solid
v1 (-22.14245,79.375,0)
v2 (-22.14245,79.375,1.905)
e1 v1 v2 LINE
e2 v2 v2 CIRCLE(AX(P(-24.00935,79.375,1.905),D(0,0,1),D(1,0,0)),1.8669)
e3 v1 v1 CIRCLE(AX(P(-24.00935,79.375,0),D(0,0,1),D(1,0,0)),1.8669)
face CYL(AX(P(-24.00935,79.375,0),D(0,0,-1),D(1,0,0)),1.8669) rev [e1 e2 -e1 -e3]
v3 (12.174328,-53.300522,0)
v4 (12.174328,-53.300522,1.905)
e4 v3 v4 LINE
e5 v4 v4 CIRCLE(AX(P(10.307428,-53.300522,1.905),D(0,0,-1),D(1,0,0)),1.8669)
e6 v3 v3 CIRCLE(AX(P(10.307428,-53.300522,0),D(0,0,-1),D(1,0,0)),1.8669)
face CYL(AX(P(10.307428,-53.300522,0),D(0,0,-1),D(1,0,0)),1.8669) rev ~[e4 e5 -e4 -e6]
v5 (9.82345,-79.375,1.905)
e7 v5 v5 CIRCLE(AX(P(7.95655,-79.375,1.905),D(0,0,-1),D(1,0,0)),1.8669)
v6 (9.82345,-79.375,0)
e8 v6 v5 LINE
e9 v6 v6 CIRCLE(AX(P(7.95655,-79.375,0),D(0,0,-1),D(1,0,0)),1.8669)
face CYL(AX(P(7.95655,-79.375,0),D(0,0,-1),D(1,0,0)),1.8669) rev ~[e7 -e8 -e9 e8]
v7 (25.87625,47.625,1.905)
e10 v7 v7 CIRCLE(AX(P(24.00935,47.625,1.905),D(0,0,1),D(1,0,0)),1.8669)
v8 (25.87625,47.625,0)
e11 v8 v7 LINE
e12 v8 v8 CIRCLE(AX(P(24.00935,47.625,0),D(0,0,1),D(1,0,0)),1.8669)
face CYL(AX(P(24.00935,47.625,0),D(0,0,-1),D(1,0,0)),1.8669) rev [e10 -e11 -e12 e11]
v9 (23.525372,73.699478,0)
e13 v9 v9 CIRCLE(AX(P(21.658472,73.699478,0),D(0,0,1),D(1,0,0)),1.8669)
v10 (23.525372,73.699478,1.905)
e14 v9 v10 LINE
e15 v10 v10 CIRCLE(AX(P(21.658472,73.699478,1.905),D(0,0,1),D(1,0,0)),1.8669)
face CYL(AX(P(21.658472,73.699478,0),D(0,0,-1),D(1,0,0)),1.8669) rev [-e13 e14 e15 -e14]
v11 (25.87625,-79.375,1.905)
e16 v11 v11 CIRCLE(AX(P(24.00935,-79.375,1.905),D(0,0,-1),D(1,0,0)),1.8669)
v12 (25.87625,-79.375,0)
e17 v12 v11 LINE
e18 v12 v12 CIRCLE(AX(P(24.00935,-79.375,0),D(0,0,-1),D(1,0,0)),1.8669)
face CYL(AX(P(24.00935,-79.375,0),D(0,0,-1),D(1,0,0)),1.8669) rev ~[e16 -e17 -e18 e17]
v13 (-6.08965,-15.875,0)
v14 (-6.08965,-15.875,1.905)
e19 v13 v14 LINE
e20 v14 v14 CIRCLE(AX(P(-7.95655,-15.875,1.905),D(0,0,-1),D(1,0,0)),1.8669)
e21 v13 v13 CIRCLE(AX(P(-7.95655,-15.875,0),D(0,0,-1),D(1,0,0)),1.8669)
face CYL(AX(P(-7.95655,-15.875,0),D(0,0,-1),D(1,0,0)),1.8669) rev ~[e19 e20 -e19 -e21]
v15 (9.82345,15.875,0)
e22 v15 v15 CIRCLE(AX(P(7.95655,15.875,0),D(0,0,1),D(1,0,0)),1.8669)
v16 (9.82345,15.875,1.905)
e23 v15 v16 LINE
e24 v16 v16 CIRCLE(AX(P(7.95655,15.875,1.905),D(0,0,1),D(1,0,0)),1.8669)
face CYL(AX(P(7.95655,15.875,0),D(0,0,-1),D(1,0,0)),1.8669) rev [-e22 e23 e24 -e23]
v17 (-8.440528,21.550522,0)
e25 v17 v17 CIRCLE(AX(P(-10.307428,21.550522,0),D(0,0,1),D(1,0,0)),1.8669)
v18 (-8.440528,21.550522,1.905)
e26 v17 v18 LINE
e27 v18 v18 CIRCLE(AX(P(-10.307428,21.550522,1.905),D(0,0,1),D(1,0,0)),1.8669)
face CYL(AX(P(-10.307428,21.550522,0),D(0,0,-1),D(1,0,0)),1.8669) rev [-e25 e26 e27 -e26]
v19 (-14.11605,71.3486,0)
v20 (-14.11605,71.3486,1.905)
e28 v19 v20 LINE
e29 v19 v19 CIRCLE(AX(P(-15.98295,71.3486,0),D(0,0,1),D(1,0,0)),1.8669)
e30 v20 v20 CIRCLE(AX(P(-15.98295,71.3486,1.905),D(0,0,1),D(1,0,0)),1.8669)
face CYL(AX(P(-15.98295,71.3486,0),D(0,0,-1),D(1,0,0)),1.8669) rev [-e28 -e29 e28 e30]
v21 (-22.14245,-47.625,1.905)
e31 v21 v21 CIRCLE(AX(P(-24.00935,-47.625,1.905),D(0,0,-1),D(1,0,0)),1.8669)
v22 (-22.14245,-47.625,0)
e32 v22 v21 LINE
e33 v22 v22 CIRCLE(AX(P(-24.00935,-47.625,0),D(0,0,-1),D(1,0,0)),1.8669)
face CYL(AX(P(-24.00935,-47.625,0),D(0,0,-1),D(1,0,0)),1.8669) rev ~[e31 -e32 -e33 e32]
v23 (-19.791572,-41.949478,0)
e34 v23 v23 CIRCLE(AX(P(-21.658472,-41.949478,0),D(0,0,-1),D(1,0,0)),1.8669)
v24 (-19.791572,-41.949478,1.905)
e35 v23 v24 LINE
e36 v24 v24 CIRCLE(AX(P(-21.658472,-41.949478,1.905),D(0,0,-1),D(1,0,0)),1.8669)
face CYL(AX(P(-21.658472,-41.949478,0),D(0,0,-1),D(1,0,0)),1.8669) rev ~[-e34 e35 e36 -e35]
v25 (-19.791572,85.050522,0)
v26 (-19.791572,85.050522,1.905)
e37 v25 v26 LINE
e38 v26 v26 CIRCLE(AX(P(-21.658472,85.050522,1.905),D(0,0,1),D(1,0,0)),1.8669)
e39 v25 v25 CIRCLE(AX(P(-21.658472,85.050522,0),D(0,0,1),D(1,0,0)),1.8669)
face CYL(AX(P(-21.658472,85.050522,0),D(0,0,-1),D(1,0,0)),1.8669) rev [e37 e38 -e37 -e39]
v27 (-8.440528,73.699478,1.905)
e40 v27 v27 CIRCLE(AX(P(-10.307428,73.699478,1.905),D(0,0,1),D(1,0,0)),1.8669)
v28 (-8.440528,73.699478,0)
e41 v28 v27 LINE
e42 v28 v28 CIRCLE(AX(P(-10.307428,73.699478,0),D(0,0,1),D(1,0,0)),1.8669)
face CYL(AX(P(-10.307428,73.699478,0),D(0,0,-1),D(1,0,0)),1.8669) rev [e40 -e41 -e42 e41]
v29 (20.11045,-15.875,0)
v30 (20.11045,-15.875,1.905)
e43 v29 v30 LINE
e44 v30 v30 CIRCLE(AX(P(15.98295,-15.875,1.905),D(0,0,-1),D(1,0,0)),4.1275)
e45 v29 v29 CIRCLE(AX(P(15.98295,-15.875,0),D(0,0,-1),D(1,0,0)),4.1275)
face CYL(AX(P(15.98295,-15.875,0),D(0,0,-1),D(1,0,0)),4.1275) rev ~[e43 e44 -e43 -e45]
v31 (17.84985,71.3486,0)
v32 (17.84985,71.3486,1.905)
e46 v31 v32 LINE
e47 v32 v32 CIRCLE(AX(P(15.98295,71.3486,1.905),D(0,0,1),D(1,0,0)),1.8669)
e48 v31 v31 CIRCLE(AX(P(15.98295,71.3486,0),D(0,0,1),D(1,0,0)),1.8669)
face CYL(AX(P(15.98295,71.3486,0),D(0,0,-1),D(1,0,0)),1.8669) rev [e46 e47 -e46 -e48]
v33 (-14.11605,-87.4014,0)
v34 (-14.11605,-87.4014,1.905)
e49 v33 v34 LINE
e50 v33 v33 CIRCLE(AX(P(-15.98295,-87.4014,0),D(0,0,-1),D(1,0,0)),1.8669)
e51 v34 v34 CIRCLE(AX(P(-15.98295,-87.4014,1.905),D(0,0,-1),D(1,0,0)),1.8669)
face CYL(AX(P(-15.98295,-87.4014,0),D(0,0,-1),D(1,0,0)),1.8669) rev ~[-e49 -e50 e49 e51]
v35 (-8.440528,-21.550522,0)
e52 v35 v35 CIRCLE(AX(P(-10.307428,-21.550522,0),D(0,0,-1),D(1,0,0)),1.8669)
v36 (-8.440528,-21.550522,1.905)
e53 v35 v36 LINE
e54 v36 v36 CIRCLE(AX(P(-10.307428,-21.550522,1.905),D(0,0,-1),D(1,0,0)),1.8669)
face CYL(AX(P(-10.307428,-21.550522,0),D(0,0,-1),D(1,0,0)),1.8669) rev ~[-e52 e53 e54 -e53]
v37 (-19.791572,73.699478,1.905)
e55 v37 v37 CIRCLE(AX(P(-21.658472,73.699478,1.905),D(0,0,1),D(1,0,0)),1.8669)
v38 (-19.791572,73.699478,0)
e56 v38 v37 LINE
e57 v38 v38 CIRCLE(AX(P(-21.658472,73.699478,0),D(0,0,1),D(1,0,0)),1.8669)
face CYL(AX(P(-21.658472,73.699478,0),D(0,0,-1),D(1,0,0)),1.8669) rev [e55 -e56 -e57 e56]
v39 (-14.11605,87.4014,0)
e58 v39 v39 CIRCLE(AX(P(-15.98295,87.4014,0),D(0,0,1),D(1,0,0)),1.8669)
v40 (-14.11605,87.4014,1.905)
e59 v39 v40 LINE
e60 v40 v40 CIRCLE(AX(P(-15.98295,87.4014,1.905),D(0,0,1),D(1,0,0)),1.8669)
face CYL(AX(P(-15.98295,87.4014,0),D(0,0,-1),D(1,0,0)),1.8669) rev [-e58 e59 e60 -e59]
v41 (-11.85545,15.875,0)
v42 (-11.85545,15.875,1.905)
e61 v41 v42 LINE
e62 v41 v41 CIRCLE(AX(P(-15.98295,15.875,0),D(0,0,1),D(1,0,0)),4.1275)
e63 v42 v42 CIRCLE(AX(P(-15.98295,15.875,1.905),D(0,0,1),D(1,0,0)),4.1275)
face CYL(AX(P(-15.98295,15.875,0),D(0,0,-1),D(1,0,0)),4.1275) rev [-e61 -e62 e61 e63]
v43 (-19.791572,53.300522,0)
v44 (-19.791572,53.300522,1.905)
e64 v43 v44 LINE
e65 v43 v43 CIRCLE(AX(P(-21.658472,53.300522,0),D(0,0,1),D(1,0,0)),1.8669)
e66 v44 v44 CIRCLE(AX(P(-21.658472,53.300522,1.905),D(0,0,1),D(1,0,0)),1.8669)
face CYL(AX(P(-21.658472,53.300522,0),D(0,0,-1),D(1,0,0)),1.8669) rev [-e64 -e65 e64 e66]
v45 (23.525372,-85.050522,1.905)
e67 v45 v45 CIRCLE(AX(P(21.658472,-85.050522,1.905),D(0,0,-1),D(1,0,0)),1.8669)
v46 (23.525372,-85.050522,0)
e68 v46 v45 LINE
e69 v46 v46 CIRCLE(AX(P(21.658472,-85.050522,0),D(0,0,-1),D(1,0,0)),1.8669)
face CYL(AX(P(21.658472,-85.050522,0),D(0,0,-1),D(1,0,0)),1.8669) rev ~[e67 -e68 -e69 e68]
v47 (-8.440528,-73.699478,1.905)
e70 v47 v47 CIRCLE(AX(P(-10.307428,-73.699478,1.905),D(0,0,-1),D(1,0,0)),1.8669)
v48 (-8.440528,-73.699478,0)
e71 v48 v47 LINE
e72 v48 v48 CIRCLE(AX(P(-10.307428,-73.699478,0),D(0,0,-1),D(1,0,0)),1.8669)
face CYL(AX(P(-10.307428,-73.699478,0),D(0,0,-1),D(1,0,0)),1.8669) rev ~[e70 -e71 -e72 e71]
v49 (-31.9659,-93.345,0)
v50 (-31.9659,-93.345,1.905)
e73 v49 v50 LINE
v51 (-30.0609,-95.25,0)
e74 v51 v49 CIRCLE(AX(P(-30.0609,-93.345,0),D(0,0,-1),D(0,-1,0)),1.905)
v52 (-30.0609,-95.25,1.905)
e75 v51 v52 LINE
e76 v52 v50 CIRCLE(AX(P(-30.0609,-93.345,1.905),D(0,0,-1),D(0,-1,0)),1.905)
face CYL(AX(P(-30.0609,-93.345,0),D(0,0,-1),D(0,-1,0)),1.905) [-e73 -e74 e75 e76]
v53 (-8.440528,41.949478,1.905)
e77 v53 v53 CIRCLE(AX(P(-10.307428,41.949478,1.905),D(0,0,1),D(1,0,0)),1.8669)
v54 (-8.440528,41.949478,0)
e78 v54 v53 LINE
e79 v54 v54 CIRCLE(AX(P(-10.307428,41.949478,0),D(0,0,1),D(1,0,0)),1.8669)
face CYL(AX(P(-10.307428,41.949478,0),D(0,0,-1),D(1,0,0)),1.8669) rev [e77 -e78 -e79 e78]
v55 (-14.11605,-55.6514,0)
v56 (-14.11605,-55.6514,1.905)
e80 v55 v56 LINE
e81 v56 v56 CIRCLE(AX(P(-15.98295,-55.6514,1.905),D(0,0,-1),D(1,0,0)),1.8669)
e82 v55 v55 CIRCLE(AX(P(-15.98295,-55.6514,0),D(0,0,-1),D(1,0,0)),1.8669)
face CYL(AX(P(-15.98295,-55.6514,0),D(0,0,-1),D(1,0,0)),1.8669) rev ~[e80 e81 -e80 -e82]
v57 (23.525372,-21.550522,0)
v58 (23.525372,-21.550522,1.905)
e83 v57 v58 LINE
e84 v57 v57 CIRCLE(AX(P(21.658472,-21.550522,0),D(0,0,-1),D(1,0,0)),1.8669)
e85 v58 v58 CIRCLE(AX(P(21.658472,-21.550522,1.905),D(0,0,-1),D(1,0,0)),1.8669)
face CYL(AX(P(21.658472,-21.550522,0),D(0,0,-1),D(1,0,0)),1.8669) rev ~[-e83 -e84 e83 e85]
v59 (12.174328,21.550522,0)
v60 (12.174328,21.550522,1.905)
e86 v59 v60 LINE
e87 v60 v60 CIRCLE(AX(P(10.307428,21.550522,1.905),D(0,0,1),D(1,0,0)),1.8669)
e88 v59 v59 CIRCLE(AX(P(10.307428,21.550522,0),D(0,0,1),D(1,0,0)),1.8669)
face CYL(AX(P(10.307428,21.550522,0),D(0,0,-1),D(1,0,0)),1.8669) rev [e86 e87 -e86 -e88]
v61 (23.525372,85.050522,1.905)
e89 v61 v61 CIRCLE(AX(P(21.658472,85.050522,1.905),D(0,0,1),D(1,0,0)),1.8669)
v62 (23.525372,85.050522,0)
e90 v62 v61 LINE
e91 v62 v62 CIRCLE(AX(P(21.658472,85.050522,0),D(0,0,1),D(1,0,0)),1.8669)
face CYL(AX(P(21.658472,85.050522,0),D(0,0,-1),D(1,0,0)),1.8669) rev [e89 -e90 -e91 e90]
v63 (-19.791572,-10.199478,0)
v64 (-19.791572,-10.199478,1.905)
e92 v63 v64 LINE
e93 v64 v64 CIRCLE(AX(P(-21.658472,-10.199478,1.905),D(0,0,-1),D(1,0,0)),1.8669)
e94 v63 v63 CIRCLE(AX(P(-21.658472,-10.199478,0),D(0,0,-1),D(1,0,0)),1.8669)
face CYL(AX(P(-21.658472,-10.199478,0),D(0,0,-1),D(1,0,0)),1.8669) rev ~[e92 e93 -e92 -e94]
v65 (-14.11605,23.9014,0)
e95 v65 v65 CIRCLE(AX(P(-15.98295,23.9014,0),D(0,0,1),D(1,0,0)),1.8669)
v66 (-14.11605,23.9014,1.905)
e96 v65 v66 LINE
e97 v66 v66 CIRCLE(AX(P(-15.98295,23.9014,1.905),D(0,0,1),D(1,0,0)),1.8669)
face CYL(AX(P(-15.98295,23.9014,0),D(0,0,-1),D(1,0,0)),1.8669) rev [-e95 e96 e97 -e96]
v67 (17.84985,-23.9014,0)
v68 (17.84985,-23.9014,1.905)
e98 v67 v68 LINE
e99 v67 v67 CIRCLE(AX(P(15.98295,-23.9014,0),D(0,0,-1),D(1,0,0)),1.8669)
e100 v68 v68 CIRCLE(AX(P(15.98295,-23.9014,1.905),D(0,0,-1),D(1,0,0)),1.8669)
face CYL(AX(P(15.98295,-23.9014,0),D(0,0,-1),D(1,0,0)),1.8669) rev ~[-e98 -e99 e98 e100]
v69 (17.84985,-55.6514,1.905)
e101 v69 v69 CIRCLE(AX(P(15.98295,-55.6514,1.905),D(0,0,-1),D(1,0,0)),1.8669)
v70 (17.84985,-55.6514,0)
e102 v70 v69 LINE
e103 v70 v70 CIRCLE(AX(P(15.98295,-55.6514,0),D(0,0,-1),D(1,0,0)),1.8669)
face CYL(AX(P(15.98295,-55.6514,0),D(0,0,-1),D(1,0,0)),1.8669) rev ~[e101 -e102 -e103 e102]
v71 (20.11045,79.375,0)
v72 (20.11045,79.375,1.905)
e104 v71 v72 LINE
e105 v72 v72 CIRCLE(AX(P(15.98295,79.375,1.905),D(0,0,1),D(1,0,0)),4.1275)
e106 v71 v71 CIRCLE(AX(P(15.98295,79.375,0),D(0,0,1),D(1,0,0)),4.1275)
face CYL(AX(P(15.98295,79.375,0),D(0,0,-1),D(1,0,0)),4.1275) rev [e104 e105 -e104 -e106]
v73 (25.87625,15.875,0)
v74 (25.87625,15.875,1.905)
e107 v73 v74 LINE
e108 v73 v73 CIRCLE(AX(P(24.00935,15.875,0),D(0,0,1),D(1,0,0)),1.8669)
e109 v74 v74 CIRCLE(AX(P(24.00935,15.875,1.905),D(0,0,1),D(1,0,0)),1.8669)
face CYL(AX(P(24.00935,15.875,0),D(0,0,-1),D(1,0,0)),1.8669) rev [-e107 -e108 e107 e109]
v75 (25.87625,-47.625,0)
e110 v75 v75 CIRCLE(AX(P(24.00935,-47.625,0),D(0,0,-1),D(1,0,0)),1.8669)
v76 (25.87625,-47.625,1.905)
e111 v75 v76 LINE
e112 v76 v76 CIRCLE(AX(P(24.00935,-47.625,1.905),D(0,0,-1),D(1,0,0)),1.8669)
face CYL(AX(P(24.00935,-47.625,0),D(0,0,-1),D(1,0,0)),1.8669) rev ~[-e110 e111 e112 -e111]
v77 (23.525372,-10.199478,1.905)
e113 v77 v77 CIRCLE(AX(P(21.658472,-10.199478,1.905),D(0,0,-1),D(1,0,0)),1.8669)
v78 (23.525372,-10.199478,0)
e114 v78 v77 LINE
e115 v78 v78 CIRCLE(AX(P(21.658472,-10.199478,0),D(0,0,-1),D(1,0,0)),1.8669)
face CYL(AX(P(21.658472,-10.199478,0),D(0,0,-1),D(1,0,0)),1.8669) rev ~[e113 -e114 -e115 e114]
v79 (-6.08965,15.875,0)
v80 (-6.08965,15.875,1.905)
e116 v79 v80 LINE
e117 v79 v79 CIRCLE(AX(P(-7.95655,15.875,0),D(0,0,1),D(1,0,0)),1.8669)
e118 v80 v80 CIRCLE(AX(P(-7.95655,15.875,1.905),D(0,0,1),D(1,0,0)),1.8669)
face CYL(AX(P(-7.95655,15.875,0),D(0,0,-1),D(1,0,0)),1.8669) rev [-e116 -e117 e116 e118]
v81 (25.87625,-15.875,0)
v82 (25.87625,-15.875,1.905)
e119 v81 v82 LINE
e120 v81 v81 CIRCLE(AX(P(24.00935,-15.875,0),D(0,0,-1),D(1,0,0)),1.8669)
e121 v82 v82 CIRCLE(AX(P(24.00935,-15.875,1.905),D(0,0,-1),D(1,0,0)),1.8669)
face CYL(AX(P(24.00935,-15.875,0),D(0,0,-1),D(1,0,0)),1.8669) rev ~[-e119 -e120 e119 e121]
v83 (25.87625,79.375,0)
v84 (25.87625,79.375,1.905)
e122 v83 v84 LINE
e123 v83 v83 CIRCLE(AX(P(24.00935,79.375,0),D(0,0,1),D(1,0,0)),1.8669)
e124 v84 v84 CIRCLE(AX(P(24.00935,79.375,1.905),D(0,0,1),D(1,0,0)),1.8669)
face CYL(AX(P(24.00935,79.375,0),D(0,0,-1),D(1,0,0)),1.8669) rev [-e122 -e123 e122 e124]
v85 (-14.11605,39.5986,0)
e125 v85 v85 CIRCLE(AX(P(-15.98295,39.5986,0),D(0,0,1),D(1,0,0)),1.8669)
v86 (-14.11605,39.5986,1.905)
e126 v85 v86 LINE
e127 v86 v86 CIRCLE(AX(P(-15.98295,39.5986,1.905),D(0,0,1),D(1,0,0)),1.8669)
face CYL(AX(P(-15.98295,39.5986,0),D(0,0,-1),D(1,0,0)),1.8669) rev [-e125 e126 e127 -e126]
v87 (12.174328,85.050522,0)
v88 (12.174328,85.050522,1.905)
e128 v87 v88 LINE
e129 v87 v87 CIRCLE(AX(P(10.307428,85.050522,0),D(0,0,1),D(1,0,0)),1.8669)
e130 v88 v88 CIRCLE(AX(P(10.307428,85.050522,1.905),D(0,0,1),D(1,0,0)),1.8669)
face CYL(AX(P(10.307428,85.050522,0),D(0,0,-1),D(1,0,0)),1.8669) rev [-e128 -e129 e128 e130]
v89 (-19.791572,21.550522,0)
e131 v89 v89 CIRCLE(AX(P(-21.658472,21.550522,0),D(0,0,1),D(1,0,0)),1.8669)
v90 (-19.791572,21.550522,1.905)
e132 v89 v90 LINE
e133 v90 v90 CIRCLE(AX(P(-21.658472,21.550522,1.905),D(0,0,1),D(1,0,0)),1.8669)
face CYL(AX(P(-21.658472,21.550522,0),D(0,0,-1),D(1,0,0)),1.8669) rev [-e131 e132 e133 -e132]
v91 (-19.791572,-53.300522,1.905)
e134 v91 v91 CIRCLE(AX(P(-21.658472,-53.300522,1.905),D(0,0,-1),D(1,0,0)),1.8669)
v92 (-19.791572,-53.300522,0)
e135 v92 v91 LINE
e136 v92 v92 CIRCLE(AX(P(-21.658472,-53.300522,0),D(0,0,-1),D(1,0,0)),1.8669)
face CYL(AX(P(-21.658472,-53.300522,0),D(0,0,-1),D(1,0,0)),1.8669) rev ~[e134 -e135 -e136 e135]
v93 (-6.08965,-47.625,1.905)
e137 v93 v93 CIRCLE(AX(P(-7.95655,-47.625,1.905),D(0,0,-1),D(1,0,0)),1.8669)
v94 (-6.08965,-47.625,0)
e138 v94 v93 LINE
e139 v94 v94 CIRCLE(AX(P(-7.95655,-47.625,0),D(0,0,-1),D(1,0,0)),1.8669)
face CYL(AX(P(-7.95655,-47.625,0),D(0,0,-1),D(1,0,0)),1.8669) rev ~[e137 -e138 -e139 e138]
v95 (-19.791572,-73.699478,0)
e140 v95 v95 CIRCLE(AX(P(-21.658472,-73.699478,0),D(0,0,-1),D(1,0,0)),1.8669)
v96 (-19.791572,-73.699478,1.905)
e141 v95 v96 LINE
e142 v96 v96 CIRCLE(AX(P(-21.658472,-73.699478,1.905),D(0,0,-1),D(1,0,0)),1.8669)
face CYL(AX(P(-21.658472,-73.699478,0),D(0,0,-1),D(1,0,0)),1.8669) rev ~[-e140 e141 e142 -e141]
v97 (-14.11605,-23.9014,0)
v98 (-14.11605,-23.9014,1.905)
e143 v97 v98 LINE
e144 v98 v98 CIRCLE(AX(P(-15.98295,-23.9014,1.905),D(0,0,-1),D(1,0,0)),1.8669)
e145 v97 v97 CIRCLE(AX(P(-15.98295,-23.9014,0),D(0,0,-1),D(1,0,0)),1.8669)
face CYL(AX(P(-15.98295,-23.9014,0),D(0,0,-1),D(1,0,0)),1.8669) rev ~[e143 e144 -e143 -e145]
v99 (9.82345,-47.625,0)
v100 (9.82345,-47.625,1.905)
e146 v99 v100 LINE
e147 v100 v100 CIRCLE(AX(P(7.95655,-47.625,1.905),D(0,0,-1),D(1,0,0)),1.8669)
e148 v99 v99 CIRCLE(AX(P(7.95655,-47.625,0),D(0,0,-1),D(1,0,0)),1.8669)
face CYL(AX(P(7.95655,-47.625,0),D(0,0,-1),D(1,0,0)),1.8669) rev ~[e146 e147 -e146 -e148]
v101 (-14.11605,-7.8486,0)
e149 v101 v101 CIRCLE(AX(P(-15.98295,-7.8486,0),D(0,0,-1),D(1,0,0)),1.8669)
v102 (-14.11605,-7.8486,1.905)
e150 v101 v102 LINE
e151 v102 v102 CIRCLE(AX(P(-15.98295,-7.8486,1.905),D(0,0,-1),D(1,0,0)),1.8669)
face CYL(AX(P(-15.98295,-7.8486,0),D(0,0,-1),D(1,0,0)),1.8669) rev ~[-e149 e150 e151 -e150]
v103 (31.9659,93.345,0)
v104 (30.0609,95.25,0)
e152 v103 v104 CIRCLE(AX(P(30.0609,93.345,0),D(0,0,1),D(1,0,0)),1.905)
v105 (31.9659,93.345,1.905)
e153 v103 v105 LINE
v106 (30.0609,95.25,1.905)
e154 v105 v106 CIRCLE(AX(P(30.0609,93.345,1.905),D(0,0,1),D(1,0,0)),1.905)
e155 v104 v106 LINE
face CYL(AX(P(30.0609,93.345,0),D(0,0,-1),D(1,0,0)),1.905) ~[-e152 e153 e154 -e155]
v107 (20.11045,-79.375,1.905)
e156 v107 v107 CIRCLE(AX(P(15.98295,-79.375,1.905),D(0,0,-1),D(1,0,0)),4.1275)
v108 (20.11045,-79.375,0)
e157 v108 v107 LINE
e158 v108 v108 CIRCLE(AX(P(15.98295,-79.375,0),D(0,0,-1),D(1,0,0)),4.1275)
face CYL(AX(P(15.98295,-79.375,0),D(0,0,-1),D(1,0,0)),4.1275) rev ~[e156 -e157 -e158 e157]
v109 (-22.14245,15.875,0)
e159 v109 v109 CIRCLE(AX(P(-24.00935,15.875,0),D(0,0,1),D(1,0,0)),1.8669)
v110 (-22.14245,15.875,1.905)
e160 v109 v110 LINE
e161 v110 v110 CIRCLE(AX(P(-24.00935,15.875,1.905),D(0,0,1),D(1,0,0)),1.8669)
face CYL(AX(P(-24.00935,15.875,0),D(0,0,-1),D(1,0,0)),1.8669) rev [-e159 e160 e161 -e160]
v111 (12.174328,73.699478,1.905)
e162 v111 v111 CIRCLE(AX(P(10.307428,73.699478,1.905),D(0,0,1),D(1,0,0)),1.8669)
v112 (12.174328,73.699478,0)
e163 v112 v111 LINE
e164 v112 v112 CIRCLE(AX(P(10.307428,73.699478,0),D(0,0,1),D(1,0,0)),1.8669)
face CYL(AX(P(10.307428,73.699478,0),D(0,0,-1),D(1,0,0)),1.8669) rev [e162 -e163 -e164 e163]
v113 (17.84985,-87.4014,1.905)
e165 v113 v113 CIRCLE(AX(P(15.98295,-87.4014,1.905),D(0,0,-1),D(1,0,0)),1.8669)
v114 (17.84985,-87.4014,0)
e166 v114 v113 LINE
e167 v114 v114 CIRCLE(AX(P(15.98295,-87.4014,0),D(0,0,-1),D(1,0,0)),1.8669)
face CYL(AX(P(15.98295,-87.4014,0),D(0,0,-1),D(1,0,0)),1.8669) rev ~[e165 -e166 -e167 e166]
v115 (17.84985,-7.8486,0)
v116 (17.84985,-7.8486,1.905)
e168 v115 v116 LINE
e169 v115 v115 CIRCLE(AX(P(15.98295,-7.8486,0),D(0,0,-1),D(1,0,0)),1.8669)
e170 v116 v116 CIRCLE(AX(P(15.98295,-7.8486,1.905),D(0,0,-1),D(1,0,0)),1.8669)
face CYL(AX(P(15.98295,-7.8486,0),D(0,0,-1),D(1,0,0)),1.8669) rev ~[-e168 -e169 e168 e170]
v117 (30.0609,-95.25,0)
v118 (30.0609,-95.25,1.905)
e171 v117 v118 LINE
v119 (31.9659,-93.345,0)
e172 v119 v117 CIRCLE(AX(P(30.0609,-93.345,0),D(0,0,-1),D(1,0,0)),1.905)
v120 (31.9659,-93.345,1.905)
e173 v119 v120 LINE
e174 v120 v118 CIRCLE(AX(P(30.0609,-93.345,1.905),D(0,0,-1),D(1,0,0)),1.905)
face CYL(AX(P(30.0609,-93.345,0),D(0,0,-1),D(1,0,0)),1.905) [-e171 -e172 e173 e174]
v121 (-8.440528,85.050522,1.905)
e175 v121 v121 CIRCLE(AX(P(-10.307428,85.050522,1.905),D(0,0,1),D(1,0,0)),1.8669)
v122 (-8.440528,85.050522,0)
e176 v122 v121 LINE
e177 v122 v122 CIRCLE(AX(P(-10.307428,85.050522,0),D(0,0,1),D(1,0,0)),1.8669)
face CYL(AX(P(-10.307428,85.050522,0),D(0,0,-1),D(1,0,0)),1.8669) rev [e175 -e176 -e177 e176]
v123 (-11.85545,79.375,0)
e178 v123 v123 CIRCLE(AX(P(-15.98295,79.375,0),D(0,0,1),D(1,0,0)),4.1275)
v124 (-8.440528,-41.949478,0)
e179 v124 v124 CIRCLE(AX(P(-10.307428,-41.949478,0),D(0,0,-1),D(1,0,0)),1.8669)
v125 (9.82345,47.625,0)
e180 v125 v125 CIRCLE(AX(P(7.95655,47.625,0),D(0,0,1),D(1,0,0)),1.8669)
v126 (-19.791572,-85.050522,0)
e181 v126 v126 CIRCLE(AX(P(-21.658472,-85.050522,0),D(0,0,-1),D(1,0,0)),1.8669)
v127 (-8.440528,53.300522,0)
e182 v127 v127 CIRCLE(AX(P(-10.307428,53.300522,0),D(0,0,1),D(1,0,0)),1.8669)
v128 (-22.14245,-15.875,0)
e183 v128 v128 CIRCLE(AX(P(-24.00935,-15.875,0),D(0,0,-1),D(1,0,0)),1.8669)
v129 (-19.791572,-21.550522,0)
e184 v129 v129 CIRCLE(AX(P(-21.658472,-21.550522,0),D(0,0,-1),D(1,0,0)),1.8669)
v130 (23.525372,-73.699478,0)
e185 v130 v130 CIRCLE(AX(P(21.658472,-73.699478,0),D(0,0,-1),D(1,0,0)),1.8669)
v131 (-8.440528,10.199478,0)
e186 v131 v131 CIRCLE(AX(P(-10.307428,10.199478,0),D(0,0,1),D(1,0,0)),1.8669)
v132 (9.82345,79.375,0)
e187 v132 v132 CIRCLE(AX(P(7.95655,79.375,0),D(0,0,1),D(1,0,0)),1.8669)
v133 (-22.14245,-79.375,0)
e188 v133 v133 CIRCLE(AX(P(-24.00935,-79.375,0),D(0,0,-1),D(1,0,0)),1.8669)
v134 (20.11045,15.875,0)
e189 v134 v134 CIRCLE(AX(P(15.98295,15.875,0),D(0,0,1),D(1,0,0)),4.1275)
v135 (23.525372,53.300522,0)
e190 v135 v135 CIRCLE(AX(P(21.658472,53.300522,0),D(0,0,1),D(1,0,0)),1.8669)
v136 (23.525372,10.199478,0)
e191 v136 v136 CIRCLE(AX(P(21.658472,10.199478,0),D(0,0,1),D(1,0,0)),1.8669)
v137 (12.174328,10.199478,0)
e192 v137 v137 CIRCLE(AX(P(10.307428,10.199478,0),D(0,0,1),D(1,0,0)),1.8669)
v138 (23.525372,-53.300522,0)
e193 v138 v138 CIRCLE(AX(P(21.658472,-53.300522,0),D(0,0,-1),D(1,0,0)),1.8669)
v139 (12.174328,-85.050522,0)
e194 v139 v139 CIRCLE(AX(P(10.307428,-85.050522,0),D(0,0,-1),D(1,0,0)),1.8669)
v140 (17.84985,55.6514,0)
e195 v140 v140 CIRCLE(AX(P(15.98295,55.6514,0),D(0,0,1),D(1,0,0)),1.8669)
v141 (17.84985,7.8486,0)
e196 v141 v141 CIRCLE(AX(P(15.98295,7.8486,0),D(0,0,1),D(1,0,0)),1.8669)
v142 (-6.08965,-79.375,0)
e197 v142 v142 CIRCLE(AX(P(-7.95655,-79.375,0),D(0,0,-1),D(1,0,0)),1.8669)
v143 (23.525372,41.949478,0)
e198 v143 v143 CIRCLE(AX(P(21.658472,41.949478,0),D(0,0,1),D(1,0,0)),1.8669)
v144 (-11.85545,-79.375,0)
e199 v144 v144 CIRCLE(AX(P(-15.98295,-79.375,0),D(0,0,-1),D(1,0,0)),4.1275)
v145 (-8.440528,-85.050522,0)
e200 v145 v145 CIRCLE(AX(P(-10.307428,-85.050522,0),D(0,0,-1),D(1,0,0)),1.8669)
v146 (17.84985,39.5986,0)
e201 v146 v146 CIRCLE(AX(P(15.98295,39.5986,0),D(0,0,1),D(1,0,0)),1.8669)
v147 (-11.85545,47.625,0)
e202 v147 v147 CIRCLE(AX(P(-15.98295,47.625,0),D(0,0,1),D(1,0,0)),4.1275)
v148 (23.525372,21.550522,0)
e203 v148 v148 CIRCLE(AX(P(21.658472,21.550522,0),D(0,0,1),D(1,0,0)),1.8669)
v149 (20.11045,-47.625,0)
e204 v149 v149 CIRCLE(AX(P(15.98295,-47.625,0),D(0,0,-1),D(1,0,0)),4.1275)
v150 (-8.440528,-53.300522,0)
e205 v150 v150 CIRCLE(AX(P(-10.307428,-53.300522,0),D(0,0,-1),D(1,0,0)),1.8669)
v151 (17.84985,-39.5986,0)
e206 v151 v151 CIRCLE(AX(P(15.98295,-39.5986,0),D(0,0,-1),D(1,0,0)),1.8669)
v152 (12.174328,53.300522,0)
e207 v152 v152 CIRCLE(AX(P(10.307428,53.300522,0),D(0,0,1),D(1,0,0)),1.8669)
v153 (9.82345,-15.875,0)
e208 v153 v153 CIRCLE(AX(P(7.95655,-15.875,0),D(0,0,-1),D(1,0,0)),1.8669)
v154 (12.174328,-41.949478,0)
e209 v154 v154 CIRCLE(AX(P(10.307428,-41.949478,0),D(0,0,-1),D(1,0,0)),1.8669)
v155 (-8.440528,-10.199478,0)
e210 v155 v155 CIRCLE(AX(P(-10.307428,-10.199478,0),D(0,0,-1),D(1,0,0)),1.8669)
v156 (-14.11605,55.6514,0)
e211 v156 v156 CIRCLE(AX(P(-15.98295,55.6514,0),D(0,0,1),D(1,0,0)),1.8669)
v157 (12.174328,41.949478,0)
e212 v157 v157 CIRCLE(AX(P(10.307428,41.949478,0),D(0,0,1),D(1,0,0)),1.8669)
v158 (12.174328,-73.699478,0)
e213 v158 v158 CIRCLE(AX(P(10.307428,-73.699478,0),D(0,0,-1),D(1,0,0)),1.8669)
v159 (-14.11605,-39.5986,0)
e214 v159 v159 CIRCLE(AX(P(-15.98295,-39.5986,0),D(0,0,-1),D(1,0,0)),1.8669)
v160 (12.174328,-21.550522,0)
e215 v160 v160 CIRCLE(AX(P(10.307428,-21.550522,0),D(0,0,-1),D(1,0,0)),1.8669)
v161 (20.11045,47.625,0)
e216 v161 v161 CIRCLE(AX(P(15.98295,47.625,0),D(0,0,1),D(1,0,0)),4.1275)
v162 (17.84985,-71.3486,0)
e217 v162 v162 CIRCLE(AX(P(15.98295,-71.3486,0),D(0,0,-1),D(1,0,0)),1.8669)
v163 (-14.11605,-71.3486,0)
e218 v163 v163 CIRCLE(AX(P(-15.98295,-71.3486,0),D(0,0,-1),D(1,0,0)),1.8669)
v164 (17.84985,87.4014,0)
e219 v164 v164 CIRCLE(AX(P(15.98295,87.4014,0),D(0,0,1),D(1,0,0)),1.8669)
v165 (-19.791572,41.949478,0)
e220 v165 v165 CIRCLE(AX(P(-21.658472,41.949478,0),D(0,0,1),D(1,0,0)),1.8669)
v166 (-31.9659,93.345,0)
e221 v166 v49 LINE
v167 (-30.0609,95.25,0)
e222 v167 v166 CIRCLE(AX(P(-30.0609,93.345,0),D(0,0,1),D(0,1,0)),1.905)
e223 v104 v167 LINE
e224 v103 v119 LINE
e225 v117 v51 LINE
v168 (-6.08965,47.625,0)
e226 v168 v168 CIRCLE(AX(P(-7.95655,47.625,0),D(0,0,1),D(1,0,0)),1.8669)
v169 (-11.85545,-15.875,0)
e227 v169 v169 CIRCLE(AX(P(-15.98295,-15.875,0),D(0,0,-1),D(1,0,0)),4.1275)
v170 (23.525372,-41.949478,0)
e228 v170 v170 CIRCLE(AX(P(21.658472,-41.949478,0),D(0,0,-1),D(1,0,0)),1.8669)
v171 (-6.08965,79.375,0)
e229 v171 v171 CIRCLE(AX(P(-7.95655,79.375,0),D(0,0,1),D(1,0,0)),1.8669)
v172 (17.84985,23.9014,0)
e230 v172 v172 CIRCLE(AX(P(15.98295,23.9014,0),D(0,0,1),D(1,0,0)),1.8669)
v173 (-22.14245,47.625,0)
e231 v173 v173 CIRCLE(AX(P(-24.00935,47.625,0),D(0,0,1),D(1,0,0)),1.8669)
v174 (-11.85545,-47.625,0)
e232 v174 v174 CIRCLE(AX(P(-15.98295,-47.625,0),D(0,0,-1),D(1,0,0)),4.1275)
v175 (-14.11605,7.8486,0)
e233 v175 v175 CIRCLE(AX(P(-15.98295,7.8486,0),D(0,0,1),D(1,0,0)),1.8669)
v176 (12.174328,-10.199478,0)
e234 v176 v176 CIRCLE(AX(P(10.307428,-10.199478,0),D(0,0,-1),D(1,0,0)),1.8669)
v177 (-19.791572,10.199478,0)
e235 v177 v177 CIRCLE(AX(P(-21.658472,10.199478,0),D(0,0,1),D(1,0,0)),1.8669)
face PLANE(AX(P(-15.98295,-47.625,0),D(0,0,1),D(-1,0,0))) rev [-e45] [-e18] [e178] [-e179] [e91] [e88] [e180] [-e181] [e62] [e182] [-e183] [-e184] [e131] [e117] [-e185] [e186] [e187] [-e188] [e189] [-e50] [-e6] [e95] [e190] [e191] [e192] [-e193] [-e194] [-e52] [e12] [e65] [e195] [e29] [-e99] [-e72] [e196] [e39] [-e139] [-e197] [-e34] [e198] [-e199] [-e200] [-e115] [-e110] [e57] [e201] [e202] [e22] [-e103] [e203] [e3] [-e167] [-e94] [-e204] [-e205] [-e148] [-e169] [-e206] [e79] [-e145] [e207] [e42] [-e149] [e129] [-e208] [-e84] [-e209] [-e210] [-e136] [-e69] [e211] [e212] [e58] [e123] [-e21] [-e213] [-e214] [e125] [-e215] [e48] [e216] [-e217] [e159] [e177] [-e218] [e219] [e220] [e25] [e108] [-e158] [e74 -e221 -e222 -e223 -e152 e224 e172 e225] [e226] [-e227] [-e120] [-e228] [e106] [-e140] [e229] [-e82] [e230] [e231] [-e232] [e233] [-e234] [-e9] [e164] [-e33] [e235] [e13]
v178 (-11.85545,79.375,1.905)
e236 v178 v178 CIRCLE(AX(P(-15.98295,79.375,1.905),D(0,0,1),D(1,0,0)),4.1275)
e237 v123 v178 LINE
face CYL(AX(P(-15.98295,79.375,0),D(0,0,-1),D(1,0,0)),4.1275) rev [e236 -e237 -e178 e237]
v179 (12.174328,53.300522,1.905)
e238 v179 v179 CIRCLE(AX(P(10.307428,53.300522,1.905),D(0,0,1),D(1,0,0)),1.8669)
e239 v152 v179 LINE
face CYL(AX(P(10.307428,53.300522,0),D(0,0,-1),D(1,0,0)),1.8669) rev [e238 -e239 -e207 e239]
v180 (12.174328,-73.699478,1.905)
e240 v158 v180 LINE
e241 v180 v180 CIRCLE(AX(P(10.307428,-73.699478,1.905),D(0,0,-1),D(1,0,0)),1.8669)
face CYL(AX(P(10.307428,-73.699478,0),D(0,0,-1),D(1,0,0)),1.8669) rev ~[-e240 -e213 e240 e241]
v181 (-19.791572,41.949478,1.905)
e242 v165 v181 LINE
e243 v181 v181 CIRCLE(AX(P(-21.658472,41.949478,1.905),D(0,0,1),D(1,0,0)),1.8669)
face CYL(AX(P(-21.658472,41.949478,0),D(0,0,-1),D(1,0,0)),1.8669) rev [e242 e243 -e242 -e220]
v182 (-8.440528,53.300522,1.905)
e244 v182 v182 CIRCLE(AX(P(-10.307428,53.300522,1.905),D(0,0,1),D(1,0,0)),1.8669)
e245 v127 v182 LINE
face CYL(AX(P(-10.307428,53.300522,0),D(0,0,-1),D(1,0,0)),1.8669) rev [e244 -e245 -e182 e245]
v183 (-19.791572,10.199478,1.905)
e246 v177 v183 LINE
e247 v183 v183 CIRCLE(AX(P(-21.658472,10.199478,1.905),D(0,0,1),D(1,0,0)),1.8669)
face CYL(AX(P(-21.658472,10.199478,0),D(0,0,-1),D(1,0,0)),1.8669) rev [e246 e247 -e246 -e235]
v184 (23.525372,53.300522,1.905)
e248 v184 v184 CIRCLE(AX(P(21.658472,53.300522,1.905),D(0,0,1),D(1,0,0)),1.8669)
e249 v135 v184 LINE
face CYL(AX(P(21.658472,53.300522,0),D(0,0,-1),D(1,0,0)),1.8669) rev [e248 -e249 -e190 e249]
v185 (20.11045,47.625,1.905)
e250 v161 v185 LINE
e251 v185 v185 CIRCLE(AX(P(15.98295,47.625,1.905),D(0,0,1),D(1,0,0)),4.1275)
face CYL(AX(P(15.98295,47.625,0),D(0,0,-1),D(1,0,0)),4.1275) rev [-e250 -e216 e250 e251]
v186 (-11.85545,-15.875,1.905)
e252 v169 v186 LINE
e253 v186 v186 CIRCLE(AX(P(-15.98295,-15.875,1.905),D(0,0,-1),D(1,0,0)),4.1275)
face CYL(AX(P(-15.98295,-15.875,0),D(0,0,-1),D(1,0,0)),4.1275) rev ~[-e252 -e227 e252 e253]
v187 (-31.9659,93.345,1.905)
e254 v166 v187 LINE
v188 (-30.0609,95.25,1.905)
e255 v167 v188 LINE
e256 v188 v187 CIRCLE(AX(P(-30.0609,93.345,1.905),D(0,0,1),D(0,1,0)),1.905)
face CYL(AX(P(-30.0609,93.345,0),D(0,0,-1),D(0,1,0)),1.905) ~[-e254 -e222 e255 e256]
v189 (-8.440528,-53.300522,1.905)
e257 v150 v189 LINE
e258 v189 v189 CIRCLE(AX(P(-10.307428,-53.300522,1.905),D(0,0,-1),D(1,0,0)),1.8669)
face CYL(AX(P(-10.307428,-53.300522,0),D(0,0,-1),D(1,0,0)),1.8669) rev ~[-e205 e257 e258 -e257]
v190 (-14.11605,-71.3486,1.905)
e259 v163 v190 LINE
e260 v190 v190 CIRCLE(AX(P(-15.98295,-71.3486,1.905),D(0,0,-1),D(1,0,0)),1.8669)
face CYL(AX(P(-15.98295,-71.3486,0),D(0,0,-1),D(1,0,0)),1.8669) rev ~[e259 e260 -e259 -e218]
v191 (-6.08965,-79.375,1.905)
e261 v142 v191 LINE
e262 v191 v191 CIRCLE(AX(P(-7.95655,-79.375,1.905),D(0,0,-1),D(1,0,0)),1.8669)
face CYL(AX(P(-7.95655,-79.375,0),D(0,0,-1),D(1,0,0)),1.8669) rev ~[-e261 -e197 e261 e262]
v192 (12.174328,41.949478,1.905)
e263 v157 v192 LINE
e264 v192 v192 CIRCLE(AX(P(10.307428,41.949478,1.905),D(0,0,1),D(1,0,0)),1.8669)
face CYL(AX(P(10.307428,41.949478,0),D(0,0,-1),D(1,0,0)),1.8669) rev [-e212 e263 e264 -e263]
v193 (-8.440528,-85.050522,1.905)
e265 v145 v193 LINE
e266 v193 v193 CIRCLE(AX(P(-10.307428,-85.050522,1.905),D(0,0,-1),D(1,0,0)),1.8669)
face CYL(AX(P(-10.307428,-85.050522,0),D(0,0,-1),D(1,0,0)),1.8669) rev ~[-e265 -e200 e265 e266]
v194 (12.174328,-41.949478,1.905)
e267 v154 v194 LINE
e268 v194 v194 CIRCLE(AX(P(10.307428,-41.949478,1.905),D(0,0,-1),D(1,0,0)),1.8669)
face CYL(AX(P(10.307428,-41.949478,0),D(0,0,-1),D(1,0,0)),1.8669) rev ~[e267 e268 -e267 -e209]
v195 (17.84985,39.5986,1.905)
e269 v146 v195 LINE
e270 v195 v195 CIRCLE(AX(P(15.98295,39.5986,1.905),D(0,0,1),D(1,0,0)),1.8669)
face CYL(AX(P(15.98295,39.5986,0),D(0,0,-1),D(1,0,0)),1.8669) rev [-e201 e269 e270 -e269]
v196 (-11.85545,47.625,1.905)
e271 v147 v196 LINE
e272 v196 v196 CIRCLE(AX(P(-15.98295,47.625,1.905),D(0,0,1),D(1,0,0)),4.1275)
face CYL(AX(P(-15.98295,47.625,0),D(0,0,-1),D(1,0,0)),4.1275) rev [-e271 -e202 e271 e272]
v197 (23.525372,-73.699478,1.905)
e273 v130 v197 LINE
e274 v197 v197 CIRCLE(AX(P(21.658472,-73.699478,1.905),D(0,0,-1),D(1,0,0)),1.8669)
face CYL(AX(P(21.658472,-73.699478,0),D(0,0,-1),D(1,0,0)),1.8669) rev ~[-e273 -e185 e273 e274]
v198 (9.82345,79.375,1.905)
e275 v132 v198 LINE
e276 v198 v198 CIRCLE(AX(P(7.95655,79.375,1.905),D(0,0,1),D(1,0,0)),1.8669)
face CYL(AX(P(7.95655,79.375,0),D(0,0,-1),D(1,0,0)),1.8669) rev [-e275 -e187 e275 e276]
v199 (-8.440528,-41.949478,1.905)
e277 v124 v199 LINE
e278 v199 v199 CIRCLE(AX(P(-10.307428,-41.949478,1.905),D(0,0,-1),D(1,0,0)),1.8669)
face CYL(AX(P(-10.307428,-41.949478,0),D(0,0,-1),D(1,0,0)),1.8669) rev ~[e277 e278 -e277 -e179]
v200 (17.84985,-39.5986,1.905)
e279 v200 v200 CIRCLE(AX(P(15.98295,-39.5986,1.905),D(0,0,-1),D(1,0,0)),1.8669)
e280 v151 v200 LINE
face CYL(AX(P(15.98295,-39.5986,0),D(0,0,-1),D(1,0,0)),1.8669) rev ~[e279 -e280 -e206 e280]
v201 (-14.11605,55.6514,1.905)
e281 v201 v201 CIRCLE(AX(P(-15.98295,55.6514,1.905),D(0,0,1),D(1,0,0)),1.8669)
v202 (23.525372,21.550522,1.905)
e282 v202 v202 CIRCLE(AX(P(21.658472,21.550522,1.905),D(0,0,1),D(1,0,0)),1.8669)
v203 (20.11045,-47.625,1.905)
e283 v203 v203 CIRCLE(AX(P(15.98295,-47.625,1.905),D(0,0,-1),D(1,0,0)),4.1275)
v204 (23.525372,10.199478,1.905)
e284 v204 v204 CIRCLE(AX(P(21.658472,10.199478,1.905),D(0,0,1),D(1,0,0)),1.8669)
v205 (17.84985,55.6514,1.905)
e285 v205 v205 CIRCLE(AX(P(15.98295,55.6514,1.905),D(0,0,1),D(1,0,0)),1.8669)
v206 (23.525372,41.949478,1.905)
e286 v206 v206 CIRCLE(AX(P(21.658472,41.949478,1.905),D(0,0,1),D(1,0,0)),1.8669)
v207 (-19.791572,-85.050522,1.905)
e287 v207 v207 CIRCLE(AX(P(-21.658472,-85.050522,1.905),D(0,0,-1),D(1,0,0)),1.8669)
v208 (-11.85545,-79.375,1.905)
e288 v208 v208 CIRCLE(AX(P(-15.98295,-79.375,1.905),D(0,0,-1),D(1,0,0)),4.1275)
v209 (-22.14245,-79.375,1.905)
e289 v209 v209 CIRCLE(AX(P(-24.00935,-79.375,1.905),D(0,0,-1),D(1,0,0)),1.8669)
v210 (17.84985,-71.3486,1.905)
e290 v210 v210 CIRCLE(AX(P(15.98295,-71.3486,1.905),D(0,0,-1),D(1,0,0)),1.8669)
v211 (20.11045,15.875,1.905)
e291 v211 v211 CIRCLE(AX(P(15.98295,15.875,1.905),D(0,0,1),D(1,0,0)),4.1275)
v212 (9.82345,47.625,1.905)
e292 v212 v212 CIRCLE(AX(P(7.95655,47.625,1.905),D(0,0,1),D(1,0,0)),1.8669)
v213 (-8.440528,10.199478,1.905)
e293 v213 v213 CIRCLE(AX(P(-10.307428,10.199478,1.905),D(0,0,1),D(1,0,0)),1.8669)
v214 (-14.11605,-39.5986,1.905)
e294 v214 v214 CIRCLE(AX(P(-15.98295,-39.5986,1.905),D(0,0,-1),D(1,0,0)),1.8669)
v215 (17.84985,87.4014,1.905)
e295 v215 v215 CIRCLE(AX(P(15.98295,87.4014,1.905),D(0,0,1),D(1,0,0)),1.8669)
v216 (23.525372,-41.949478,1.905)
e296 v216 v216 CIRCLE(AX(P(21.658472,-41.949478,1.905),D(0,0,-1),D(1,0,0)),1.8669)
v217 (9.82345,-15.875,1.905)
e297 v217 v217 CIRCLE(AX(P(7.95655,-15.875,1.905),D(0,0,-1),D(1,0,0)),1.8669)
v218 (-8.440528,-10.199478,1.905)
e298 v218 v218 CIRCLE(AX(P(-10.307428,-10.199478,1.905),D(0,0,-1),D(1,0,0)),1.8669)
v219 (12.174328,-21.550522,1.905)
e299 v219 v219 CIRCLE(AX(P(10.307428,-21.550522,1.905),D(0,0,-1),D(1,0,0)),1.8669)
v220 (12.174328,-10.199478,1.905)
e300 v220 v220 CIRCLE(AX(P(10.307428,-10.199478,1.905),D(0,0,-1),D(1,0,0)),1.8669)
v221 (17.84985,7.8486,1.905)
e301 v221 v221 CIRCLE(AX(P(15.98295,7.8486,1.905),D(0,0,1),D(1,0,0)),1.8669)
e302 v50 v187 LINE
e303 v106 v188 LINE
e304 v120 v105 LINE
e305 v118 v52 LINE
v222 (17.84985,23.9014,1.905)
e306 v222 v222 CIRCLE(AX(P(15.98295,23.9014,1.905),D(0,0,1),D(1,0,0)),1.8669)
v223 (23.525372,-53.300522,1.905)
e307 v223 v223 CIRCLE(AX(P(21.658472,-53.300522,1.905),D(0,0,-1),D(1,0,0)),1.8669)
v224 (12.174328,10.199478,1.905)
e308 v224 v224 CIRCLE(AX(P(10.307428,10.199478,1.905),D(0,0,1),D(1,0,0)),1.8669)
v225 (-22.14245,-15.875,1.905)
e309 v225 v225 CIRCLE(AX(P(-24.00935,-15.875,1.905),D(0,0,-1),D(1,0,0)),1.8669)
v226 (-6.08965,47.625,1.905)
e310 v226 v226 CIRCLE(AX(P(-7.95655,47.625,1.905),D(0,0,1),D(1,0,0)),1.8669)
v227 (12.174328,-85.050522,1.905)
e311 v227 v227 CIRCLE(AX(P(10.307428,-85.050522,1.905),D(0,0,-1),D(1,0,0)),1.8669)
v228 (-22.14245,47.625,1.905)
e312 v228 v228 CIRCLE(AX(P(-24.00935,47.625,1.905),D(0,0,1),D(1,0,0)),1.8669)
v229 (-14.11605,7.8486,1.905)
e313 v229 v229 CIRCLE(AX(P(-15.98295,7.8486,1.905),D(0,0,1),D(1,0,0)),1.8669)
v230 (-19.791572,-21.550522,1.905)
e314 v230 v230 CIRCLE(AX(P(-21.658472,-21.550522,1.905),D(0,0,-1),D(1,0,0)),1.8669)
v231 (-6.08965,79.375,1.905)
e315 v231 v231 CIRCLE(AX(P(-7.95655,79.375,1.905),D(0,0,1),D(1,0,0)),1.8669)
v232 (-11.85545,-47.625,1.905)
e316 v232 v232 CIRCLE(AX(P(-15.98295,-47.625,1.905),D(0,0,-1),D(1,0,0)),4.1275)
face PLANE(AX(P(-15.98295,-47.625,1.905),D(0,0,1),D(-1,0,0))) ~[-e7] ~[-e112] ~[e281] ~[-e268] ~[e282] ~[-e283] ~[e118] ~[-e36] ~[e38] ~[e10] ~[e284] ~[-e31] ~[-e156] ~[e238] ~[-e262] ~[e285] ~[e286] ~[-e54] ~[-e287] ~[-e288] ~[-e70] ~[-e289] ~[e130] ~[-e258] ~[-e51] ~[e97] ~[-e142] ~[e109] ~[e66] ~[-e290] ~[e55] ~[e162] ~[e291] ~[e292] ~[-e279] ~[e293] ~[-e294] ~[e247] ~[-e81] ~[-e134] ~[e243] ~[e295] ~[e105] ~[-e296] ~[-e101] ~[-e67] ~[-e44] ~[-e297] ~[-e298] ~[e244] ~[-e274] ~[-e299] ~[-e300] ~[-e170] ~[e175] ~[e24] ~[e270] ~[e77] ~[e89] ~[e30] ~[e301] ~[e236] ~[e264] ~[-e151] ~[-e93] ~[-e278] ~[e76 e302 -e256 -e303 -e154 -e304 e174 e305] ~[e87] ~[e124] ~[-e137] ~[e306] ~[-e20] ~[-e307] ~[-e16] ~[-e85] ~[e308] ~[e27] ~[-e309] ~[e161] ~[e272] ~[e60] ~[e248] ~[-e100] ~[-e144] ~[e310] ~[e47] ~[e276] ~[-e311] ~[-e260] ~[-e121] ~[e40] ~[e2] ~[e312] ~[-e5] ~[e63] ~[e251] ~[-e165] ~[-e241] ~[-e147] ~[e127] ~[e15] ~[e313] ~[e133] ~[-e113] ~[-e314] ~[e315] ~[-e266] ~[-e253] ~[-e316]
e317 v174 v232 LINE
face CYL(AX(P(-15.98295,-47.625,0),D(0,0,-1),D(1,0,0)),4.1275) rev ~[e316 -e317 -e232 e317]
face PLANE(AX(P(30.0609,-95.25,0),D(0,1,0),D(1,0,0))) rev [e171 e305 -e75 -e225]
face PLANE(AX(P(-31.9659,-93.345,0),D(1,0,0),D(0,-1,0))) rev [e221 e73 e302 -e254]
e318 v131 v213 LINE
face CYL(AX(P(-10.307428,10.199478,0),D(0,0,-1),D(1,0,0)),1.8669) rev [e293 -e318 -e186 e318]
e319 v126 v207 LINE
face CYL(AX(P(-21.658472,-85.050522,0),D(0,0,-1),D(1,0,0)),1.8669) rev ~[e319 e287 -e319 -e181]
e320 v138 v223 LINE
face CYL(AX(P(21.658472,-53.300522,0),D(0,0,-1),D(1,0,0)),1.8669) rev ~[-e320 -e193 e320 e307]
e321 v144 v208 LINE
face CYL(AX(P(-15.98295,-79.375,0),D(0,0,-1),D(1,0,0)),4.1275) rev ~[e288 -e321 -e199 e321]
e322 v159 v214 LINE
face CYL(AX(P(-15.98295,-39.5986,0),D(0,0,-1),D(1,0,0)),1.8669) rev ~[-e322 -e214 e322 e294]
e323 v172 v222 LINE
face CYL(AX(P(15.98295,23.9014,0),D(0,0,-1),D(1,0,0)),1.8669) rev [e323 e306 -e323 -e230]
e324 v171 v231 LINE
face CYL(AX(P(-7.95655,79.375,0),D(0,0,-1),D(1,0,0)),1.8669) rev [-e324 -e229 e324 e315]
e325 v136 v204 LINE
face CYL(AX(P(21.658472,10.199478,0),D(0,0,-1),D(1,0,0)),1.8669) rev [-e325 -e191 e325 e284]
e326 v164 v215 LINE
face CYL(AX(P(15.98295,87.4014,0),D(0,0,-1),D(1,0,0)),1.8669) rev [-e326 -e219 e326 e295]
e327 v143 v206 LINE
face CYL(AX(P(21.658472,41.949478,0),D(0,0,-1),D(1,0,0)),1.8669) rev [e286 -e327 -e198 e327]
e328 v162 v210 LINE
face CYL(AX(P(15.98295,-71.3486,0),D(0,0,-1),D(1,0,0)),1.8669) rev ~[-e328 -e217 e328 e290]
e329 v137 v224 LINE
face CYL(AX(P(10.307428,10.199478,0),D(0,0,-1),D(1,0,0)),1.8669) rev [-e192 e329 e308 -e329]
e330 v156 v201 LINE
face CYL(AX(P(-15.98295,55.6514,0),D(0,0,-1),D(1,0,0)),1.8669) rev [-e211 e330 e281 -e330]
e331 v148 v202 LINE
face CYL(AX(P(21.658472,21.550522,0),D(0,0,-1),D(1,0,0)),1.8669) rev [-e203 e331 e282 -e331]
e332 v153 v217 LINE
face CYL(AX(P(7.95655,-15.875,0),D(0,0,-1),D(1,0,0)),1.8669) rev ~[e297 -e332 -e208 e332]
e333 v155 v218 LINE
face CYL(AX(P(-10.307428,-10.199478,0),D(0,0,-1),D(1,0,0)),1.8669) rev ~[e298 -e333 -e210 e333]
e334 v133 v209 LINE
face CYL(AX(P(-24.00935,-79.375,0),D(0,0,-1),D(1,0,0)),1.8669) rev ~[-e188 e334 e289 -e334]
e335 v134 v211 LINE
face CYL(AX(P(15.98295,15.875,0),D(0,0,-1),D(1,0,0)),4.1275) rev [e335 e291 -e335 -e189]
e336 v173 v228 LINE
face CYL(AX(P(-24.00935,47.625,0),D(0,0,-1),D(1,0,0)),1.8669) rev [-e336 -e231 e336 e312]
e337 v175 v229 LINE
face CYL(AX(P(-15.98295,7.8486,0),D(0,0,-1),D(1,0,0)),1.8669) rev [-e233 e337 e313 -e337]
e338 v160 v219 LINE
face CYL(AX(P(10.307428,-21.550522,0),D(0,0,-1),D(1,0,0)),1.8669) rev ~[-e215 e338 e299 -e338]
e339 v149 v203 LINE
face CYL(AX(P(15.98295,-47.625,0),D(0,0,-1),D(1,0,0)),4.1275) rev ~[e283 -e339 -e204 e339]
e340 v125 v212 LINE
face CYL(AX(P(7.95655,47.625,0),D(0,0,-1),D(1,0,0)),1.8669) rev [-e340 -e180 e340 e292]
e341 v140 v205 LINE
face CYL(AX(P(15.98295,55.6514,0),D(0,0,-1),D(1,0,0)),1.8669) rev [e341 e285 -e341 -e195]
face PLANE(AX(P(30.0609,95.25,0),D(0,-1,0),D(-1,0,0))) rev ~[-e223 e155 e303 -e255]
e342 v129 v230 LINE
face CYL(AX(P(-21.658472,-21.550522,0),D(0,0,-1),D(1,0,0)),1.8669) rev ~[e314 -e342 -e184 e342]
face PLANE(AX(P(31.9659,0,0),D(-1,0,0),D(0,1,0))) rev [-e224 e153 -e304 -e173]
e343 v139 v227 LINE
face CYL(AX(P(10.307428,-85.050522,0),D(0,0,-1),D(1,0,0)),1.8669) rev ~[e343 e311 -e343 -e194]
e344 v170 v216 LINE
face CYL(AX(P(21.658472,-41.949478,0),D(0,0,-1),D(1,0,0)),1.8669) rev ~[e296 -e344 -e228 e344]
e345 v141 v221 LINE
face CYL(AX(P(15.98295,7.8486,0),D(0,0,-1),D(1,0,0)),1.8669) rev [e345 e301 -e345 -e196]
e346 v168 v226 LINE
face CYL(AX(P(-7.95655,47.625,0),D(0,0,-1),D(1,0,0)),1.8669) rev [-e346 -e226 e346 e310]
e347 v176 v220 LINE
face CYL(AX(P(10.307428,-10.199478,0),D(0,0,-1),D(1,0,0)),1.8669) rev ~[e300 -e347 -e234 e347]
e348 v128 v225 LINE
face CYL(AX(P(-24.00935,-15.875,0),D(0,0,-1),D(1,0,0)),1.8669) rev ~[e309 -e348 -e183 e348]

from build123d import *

# Parameters (mm, degrees)
F0_W     = 31.9659
F0_H     = 31.75
F0_R     = 1.8669
F0_R_2   = 4.1275
F1_DEPTH = 1.905


with BuildPart() as f1:
    # F0 (on Top) → F1 (new body)
    with BuildSketch(Plane.XY):
        with Locations((-15.98295, 47.625)):
            Rectangle(F0_W, F0_H)
        with Locations((-21.6584718685, 41.9494781315)):
            Circle(F0_R, mode=Mode.SUBTRACT)
        with Locations((-15.98295, 39.5986)):
            Circle(F0_R, mode=Mode.SUBTRACT)
        with Locations((-10.3074281315, 41.9494781315)):
            Circle(F0_R, mode=Mode.SUBTRACT)
        with Locations((-24.00935, 47.625)):
            Circle(F0_R, mode=Mode.SUBTRACT)
        with Locations((-21.6584718685, 53.3005218685)):
            Circle(F0_R, mode=Mode.SUBTRACT)
        with Locations((-15.98295, 47.625)):
            Circle(F0_R_2, mode=Mode.SUBTRACT)
        with Locations((-15.98295, 55.6514)):
            Circle(F0_R, mode=Mode.SUBTRACT)
        with Locations((-10.3074281315, 53.3005218685)):
            Circle(F0_R, mode=Mode.SUBTRACT)
        with Locations((-7.95655, 47.625)):
            Circle(F0_R, mode=Mode.SUBTRACT)
        with BuildLine():
            Line((-31.9659, 93.345), (-31.9659, 63.5))
            Line((-31.9659, 63.5), (0, 63.5))
            Line((0, 63.5), (0, 95.25))
            Line((0, 95.25), (-30.0609, 95.25))
            ThreePointArc((-30.0609, 95.25), (-31.4079384182, 94.6920384182), (-31.9659, 93.345))
        make_face()
        with Locations((-24.00935, 79.375)):
            Circle(F0_R, mode=Mode.SUBTRACT)
        with Locations((-21.6584718685, 73.6994781315)):
            Circle(F0_R, mode=Mode.SUBTRACT)
        with Locations((-21.6584718685, 85.0505218685)):
            Circle(F0_R, mode=Mode.SUBTRACT)
        with Locations((-15.98295, 71.3486)):
            Circle(F0_R, mode=Mode.SUBTRACT)
        with Locations((-15.98295, 79.375)):
            Circle(F0_R_2, mode=Mode.SUBTRACT)
        with Locations((-10.3074281315, 73.6994781315)):
            Circle(F0_R, mode=Mode.SUBTRACT)
        with Locations((-15.98295, 87.4014)):
            Circle(F0_R, mode=Mode.SUBTRACT)
        with Locations((-10.3074281315, 85.0505218685)):
            Circle(F0_R, mode=Mode.SUBTRACT)
        with Locations((-7.95655, 79.375)):
            Circle(F0_R, mode=Mode.SUBTRACT)
        with BuildLine():
            Line((0, 63.5), (31.9659, 63.5))
            Line((31.9659, 63.5), (31.9659, 93.345))
            ThreePointArc((31.9659, 93.345), (31.4079384182, 94.6920384182), (30.0609, 95.25))
            Line((30.0609, 95.25), (0, 95.25))
            Line((0, 95.25), (0, 63.5))
        make_face()
        with Locations((7.95655, 79.375)):
            Circle(F0_R, mode=Mode.SUBTRACT)
        with Locations((10.3074281315, 73.6994781315)):
            Circle(F0_R, mode=Mode.SUBTRACT)
        with Locations((10.3074281315, 85.0505218685)):
            Circle(F0_R, mode=Mode.SUBTRACT)
        with Locations((15.98295, 71.3486)):
            Circle(F0_R, mode=Mode.SUBTRACT)
        with Locations((15.98295, 79.375)):
            Circle(F0_R_2, mode=Mode.SUBTRACT)
        with Locations((21.6584718685, 73.6994781315)):
            Circle(F0_R, mode=Mode.SUBTRACT)
        with Locations((15.98295, 87.4014)):
            Circle(F0_R, mode=Mode.SUBTRACT)
        with Locations((21.6584718685, 85.0505218685)):
            Circle(F0_R, mode=Mode.SUBTRACT)
        with Locations((24.00935, 79.375)):
            Circle(F0_R, mode=Mode.SUBTRACT)
        with Locations((15.98295, 47.625)):
            Rectangle(F0_W, F0_H)
        with Locations((10.3074281315, 41.9494781315)):
            Circle(F0_R, mode=Mode.SUBTRACT)
        with Locations((15.98295, 39.5986)):
            Circle(F0_R, mode=Mode.SUBTRACT)
        with Locations((21.6584718685, 41.9494781315)):
            Circle(F0_R, mode=Mode.SUBTRACT)
        with Locations((7.95655, 47.625)):
            Circle(F0_R, mode=Mode.SUBTRACT)
        with Locations((10.3074281315, 53.3005218685)):
            Circle(F0_R, mode=Mode.SUBTRACT)
        with Locations((15.98295, 47.625)):
            Circle(F0_R_2, mode=Mode.SUBTRACT)
        with Locations((15.98295, 55.6514)):
            Circle(F0_R, mode=Mode.SUBTRACT)
        with Locations((21.6584718685, 53.3005218685)):
            Circle(F0_R, mode=Mode.SUBTRACT)
        with Locations((24.00935, 47.625)):
            Circle(F0_R, mode=Mode.SUBTRACT)
        with Locations((15.98295, 15.875)):
            Rectangle(F0_W, F0_H)
        with Locations((7.95655, 15.875)):
            Circle(F0_R, mode=Mode.SUBTRACT)
        with Locations((10.3074281315, 10.1994781315)):
            Circle(F0_R, mode=Mode.SUBTRACT)
        with Locations((10.3074281315, 21.5505218685)):
            Circle(F0_R, mode=Mode.SUBTRACT)
        with Locations((15.98295, 7.8486)):
            Circle(F0_R, mode=Mode.SUBTRACT)
        with Locations((21.6584718685, 10.1994781315)):
            Circle(F0_R, mode=Mode.SUBTRACT)
        with Locations((15.98295, 15.875)):
            Circle(F0_R_2, mode=Mode.SUBTRACT)
        with Locations((21.6584718685, 21.5505218685)):
            Circle(F0_R, mode=Mode.SUBTRACT)
        with Locations((24.00935, 15.875)):
            Circle(F0_R, mode=Mode.SUBTRACT)
        with Locations((15.98295, 23.9014)):
            Circle(F0_R, mode=Mode.SUBTRACT)
        with Locations((-15.98295, 15.875)):
            Rectangle(F0_W, F0_H)
        with Locations((-24.00935, 15.875)):
            Circle(F0_R, mode=Mode.SUBTRACT)
        with Locations((-21.6584718685, 10.1994781315)):
            Circle(F0_R, mode=Mode.SUBTRACT)
        with Locations((-21.6584718685, 21.5505218685)):
            Circle(F0_R, mode=Mode.SUBTRACT)
        with Locations((-15.98295, 7.8486)):
            Circle(F0_R, mode=Mode.SUBTRACT)
        with Locations((-10.3074281315, 10.1994781315)):
            Circle(F0_R, mode=Mode.SUBTRACT)
        with Locations((-15.98295, 15.875)):
            Circle(F0_R_2, mode=Mode.SUBTRACT)
        with Locations((-10.3074281315, 21.5505218685)):
            Circle(F0_R, mode=Mode.SUBTRACT)
        with Locations((-7.95655, 15.875)):
            Circle(F0_R, mode=Mode.SUBTRACT)
        with Locations((-15.98295, 23.9014)):
            Circle(F0_R, mode=Mode.SUBTRACT)
    extrude(amount=F1_DEPTH)

    # F2: F1 across plane


with BuildPart() as f1_1:
    add(f1.part)
    add(f1.part.mirror(Plane.XZ))


solid = f1_1.part
